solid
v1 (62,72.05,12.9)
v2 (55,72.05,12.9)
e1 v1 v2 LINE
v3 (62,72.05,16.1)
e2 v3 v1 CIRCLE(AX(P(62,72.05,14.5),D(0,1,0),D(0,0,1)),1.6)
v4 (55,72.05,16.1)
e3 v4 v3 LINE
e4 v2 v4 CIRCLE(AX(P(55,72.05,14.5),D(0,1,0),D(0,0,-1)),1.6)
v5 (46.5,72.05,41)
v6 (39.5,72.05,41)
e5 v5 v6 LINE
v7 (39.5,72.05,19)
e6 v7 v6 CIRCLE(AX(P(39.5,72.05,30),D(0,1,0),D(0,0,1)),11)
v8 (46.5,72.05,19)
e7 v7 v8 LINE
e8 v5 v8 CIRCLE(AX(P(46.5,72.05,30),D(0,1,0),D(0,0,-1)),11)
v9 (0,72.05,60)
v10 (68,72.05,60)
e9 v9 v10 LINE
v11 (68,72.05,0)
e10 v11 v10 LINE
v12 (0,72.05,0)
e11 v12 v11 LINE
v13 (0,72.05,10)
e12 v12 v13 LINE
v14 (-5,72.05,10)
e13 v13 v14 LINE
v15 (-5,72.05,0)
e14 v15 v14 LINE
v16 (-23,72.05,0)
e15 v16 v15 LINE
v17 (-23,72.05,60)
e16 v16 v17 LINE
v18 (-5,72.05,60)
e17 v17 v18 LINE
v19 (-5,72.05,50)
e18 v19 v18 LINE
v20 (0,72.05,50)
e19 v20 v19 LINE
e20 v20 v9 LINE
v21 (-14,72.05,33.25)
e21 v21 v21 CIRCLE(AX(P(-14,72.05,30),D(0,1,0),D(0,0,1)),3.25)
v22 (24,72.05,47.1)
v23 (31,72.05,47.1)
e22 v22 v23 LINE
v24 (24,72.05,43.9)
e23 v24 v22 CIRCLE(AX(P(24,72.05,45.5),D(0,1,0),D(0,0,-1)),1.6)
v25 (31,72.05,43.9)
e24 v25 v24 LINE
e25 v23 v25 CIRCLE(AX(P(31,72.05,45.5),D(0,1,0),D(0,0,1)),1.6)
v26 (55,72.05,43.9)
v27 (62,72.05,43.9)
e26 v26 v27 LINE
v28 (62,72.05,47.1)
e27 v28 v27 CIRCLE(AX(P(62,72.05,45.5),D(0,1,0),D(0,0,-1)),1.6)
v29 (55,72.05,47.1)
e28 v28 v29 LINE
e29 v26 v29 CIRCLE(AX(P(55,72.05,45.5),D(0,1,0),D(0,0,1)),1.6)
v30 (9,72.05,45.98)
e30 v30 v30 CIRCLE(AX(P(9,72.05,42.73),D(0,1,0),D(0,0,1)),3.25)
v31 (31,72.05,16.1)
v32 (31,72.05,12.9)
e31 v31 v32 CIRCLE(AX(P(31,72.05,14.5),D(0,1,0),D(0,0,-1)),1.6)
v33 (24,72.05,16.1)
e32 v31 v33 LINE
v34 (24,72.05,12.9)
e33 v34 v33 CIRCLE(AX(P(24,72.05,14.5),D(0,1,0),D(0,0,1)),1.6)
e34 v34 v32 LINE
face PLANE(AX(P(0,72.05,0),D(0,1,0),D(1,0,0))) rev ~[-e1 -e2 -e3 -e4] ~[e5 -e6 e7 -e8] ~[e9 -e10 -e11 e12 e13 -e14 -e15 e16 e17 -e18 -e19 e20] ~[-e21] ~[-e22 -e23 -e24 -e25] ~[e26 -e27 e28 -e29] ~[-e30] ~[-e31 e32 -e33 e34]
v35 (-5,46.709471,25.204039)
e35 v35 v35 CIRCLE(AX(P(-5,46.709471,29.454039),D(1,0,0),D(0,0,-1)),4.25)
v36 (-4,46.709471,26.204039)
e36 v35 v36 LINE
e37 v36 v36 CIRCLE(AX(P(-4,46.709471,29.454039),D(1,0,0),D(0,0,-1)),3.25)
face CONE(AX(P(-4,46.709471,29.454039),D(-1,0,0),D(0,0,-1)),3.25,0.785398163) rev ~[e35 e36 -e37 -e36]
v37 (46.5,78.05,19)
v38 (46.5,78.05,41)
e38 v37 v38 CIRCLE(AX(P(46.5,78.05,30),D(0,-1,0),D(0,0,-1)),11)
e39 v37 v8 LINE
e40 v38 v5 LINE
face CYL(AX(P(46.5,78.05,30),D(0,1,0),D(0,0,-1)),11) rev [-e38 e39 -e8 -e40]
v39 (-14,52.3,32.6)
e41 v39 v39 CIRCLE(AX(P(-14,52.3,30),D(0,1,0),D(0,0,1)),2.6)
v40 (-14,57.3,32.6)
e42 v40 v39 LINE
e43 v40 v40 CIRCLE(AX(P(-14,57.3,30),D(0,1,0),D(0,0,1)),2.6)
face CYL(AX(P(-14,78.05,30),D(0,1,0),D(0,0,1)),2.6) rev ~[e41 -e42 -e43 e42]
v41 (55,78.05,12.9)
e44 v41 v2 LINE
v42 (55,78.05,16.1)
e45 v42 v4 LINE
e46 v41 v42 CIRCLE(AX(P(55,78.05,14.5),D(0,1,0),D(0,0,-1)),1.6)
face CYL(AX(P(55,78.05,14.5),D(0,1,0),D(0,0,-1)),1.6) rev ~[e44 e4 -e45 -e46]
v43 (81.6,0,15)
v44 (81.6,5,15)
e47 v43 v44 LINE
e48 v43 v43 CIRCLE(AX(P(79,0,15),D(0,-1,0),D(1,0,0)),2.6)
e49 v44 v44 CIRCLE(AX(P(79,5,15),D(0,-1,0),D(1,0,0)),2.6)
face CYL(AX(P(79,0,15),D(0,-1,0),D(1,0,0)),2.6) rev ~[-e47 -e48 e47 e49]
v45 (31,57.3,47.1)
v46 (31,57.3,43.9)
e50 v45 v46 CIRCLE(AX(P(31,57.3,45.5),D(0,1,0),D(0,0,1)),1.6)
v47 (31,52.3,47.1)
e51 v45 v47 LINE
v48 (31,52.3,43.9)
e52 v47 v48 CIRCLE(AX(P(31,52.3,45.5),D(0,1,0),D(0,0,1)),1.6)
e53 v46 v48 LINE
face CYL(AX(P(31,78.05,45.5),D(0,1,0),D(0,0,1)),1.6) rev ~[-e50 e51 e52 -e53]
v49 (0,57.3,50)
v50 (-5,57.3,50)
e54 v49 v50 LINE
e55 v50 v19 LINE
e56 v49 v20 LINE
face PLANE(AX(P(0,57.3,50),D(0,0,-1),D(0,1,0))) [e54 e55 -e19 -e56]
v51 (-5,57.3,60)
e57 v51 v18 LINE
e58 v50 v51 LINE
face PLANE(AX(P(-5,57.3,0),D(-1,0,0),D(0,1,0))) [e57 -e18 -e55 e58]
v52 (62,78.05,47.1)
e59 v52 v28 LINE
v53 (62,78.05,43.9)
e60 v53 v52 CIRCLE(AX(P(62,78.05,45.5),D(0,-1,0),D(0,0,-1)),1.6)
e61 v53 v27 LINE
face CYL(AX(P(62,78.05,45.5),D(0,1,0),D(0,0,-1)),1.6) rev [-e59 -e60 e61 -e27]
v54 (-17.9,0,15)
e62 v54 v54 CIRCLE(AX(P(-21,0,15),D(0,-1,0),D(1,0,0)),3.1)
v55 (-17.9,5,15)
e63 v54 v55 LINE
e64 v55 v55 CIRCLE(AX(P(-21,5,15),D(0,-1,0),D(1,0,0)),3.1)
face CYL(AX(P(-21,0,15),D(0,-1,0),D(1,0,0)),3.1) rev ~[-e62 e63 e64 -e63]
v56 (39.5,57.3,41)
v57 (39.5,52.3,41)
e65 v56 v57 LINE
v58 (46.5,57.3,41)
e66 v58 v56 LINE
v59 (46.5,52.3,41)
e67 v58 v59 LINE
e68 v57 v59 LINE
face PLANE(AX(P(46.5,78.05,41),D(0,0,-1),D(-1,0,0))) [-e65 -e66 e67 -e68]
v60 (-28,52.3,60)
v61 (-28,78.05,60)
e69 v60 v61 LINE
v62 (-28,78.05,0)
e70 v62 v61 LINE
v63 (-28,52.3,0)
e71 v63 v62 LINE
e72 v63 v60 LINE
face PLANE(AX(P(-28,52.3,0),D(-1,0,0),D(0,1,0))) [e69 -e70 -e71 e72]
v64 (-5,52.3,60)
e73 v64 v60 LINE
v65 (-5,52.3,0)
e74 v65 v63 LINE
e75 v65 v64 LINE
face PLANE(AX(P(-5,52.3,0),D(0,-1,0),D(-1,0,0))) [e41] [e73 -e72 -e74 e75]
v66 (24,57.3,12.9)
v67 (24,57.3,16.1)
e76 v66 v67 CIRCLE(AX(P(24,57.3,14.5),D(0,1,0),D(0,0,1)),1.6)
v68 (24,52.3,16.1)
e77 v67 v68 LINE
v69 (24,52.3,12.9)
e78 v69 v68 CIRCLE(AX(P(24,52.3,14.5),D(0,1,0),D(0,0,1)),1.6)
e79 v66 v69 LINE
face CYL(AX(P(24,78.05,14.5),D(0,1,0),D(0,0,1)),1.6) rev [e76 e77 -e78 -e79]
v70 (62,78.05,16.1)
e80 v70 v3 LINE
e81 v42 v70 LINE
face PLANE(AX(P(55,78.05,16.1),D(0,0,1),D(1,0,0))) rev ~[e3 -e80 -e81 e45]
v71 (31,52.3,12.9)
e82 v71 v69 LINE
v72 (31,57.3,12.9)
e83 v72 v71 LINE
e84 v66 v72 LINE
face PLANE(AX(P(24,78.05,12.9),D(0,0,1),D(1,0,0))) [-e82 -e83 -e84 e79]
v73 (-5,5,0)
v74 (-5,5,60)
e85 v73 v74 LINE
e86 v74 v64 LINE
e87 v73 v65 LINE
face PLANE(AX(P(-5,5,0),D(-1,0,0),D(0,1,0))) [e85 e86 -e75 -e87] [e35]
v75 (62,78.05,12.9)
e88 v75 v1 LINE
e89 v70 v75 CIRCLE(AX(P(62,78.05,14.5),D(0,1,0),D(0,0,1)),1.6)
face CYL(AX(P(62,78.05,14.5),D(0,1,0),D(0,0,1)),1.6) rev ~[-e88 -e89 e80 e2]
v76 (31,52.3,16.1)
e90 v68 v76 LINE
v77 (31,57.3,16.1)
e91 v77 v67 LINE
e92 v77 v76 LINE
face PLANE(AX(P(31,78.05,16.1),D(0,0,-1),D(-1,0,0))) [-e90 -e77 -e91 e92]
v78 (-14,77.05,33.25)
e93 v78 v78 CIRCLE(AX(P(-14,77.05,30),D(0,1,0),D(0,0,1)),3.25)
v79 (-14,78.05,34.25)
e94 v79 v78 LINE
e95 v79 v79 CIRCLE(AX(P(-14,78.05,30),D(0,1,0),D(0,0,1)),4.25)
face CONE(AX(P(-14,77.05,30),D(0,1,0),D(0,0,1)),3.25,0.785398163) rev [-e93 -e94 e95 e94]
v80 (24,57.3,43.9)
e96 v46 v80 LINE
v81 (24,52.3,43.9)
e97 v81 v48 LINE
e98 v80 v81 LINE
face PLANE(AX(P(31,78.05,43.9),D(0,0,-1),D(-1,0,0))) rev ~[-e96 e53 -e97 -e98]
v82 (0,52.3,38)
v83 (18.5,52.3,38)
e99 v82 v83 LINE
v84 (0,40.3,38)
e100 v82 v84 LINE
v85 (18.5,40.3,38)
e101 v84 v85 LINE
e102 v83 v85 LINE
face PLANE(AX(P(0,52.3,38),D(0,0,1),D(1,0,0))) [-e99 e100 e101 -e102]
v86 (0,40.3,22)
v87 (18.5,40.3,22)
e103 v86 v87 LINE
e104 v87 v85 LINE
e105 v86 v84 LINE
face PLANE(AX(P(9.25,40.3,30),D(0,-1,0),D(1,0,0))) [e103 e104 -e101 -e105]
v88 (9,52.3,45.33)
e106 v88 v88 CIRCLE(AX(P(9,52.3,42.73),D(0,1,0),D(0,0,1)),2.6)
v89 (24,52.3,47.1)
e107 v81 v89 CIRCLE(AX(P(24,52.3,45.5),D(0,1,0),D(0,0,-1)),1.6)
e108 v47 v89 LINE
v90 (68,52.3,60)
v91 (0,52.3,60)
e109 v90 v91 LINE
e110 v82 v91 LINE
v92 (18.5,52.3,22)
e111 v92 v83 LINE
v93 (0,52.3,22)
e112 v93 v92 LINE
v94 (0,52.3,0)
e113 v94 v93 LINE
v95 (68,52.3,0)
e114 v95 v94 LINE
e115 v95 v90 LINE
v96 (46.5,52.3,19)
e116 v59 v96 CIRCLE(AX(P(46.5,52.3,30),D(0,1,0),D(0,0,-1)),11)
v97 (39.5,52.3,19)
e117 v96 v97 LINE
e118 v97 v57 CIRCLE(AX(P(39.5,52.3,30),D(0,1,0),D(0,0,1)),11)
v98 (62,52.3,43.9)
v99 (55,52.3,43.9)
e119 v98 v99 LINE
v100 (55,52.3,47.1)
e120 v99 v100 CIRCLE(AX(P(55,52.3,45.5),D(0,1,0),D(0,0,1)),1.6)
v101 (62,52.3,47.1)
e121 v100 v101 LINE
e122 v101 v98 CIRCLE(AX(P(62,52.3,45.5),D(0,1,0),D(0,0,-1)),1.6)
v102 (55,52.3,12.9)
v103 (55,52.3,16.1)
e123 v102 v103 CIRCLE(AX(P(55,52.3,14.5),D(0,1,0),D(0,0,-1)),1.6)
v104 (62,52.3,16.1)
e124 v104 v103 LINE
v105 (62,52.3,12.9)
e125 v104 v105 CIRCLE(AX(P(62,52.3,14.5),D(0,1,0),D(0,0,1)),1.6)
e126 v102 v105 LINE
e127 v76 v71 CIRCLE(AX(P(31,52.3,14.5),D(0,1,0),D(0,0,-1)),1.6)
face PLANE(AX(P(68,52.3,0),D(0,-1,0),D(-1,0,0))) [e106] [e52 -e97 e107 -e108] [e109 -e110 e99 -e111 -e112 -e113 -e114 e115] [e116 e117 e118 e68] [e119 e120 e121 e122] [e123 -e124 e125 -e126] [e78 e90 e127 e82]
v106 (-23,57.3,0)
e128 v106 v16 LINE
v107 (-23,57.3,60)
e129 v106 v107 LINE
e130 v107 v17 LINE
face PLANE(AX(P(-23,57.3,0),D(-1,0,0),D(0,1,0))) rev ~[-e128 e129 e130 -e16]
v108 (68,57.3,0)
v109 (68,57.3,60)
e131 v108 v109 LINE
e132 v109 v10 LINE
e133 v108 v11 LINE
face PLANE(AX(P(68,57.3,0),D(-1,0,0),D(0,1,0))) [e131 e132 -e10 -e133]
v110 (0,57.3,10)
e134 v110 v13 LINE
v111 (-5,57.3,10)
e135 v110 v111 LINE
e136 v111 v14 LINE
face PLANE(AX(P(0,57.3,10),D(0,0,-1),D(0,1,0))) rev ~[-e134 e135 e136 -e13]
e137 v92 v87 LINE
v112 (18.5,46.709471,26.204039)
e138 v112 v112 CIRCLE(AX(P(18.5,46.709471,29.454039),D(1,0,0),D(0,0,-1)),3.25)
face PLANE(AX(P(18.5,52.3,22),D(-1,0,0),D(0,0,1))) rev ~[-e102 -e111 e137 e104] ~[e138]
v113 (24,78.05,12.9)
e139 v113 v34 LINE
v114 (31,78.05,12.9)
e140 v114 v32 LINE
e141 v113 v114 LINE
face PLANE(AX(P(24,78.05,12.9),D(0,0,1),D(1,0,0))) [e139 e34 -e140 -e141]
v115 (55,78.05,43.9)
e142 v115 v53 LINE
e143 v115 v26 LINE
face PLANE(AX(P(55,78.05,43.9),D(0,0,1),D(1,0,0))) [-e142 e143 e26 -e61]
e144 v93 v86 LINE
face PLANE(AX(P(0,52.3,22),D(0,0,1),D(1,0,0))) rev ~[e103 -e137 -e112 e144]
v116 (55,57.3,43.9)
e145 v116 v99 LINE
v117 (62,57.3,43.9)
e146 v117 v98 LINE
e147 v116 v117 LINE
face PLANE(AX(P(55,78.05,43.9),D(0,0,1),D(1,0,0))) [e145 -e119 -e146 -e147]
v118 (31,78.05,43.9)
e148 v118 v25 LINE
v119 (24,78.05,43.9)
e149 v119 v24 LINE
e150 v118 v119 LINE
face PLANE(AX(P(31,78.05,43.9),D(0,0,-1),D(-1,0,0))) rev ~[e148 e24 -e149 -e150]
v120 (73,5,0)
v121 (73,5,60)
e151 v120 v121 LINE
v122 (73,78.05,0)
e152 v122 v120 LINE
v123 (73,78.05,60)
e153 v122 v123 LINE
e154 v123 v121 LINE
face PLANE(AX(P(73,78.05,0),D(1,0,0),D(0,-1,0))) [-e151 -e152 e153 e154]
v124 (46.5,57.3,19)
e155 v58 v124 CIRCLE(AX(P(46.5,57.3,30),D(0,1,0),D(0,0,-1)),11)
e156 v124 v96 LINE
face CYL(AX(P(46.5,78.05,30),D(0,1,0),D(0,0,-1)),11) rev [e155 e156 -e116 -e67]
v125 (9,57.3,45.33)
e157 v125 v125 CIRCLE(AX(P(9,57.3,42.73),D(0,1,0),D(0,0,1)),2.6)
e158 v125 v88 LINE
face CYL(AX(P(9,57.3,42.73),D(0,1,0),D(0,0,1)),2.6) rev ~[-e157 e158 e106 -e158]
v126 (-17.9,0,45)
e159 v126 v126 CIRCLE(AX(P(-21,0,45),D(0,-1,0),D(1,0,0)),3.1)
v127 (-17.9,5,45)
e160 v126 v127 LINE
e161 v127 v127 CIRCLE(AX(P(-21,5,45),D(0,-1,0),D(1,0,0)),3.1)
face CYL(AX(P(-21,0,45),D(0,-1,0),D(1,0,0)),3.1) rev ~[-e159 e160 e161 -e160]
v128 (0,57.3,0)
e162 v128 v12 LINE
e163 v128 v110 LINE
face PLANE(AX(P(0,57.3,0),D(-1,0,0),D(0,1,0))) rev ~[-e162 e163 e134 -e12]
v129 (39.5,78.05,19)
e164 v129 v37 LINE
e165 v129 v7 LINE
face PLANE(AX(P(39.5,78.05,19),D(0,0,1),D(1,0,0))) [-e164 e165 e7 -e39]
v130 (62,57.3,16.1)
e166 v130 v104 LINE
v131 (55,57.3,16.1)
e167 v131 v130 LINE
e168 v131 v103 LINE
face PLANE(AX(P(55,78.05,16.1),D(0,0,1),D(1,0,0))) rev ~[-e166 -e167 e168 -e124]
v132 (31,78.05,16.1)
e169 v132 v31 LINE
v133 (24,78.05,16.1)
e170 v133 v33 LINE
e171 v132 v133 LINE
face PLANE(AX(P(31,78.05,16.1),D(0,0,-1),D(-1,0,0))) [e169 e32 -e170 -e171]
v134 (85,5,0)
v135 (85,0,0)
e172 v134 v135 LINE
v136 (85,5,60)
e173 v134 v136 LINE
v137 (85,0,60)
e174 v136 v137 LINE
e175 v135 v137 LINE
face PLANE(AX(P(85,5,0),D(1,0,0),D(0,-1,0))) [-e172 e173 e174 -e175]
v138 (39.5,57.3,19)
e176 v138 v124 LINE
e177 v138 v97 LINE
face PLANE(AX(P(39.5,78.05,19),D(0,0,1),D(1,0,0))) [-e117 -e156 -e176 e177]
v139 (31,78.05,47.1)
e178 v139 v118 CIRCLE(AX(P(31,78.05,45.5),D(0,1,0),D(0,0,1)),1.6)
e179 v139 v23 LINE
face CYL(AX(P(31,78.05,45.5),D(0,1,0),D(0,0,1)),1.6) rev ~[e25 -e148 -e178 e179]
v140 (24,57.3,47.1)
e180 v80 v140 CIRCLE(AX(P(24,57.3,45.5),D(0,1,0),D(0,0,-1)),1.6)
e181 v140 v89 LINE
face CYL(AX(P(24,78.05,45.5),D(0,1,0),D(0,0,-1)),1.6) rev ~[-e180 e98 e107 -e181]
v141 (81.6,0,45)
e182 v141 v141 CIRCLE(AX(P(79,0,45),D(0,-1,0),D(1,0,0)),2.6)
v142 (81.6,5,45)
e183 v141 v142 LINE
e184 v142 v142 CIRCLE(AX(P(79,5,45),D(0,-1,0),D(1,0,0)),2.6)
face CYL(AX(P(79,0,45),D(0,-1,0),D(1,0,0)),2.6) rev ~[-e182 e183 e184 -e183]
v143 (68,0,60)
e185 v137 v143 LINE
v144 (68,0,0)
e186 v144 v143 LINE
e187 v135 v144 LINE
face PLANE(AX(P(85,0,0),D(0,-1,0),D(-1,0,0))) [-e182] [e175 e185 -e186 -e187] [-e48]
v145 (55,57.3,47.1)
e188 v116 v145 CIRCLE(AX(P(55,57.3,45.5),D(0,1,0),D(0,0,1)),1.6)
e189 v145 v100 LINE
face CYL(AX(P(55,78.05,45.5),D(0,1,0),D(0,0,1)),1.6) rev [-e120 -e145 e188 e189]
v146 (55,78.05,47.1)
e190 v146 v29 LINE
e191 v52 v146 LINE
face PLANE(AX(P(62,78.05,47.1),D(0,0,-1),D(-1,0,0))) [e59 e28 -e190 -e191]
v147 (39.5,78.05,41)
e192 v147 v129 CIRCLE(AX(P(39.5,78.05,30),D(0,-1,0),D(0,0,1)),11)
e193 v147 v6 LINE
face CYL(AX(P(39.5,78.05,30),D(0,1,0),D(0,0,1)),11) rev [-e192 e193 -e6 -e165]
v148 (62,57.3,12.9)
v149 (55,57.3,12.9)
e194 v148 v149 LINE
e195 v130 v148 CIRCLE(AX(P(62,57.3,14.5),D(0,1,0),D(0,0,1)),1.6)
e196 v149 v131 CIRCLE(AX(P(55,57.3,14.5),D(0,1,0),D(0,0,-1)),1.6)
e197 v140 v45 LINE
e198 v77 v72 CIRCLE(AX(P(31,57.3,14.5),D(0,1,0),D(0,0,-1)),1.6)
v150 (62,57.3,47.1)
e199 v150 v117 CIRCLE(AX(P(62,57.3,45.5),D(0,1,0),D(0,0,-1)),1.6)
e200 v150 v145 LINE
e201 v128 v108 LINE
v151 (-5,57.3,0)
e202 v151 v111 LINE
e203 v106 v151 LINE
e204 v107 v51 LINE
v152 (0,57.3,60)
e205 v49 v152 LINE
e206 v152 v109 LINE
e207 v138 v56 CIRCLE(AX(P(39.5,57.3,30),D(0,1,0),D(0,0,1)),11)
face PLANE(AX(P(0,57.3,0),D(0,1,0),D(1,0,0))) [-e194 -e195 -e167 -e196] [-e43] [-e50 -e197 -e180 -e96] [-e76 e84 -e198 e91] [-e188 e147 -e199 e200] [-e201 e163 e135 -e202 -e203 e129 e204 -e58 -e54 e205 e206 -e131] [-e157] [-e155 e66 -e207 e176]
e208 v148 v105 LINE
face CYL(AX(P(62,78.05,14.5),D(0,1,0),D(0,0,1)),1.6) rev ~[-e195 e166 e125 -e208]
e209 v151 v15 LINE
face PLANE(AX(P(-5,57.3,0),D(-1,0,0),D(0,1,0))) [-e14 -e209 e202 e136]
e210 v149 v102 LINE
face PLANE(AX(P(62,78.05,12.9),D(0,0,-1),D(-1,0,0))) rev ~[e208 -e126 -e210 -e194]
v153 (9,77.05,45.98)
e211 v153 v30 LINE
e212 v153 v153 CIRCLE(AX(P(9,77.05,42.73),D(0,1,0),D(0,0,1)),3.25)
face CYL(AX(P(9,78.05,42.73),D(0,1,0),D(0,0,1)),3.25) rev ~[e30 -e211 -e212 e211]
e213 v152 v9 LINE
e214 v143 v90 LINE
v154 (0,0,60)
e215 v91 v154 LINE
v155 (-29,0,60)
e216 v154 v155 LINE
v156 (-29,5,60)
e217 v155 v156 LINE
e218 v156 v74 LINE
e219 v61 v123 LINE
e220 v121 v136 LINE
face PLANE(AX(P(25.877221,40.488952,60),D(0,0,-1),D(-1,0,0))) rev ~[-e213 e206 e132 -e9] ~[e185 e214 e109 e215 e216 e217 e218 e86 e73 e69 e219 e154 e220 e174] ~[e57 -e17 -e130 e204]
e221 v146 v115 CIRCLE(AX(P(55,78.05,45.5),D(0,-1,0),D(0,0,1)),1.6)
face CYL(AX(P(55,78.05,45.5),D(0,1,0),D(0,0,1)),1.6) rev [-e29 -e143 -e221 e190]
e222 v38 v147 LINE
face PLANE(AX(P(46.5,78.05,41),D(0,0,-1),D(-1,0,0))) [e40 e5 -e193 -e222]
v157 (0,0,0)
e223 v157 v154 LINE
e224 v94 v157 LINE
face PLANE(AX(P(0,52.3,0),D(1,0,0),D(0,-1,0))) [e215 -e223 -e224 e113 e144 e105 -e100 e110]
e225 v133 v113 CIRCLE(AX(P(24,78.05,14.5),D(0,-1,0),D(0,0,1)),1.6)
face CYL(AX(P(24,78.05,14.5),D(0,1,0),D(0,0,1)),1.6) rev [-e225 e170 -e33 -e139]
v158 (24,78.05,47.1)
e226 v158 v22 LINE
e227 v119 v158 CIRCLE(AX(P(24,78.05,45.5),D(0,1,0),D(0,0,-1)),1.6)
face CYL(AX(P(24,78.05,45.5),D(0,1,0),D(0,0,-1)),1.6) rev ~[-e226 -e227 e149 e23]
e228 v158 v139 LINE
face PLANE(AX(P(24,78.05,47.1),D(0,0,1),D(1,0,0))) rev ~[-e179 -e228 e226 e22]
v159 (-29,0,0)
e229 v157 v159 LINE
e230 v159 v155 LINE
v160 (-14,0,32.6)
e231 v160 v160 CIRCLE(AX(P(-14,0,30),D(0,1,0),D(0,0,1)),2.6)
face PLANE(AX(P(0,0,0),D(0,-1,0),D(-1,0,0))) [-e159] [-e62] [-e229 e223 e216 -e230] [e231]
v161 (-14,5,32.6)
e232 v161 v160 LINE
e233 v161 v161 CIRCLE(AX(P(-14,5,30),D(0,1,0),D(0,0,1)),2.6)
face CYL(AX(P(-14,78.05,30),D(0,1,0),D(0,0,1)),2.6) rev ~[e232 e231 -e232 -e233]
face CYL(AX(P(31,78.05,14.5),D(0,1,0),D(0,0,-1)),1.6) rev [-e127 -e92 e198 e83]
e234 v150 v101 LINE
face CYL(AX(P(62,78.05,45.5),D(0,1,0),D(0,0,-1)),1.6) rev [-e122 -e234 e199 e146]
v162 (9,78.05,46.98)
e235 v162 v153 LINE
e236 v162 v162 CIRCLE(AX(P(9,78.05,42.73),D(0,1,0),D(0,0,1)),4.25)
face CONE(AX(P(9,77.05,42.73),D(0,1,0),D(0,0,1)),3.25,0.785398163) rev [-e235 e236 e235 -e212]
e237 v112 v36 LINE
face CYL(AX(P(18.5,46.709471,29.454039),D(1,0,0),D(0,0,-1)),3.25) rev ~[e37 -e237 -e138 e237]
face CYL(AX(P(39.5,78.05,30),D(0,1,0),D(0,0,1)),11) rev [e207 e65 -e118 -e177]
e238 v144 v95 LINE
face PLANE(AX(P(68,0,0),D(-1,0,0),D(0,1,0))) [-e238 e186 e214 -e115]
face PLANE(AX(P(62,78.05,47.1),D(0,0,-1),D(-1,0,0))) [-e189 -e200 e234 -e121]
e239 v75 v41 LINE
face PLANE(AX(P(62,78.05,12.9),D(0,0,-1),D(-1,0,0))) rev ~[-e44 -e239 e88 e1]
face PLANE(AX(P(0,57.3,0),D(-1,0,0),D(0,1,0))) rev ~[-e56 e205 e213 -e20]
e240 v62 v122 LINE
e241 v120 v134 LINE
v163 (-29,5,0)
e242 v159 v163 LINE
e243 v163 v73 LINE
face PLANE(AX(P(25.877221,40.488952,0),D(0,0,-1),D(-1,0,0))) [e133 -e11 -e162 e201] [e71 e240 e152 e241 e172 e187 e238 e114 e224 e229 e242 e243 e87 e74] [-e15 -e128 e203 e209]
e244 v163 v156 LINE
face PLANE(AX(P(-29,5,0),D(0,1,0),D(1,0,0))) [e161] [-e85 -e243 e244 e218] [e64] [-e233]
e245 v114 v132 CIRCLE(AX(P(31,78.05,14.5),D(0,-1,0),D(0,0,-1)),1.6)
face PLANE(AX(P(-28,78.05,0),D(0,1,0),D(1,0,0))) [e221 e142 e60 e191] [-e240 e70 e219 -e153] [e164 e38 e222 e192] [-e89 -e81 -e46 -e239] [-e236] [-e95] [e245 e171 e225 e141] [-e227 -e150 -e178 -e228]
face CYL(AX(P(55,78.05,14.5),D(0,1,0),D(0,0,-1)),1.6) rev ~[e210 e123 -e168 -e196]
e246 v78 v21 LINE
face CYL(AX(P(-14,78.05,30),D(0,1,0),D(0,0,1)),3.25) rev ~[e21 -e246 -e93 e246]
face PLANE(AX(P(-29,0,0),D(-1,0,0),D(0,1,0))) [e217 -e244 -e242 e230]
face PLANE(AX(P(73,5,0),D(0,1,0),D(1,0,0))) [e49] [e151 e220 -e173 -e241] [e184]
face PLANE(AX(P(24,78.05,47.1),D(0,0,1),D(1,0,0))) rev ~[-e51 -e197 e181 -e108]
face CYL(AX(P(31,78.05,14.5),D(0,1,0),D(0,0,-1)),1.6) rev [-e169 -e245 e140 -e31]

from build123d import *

# Parameters (mm, degrees)
SKETCH1_W           = 68
SKETCH1_H           = 14.75
SKETCH1_W_2         = 18
BOSS_EXTRUDE1_DEPTH = 60
CUT_EXTRUDE1_REACH  = 132.065
SKETCH2_W           = 40
SKETCH2_H           = 14.75
CUT_EXTRUDE2_DEPTH  = 131.064608945
CUT_EXTRUDE3_REACH  = 132.065
SKETCH5_R           = 3.25
CUT_EXTRUDE4_REACH  = 120.778
SKETCH6_R           = 2.6
SKETCH7_R           = 2.6
CUT_EXTRUDE5_DEPTH  = 131.064608945
CUT_EXTRUDE6_REACH  = 132.065
SKETCH8_R           = 3.25
CHAMFER1_SIZE       = 1
CUT_EXTRUDE8_REACH  = 132.065
SKETCH10_R          = 3.1
SKETCH10_R_2        = 2.6
SKETCH11_W          = 18.5
SKETCH11_H          = 16
BOSS_EXTRUDE2_DEPTH = 12
SKETCH12_R          = 3.25
CUT_EXTRUDE9_DEPTH  = 119.802577834
CHAMFER2_SIZE       = 1


with BuildPart() as part:
    # Sketch1 → Boss-Extrude1 (new body)
    with BuildSketch(Plane.XY):
        Polygon((0, 0), (-29, 0), (-29, 5), (-5, 5), (-5, 52.3), (-28, 52.3), (-28, 78.05), (73, 78.05), (73, 5), (85, 5), (85, 0), (68, 0), (68, 52.3), (0, 52.3), align=None)
        with Locations((34, 64.675)):
            Rectangle(SKETCH1_W, SKETCH1_H, mode=Mode.SUBTRACT)
        with Locations((-14, 64.675)):
            Rectangle(SKETCH1_W_2, SKETCH1_H, mode=Mode.SUBTRACT)
    extrude(amount=BOSS_EXTRUDE1_DEPTH)

    # Sketch2 → Cut-Extrude1 (cut, up to next)
    with BuildSketch(Plane(origin=(0, 0, 0), x_dir=(0, 0, -1), z_dir=(1, 0, 0)), mode=Mode.PRIVATE) as cut_extrude1_sk1:
        with Locations((-30, 64.675)):
            Rectangle(SKETCH2_W, SKETCH2_H)
    cut_extrude1_tool1 = extrude(cut_extrude1_sk1.sketch, amount=-CUT_EXTRUDE1_REACH, mode=Mode.PRIVATE) & part.part
    add(cut_extrude1_tool1.solids().sort_by_distance((0, 64.675, 30))[0], mode=Mode.SUBTRACT)

    # Sketch3 → Cut-Extrude2 (cut, through all)
    with BuildSketch(Plane(origin=(0, 78.05, 0), x_dir=(1, 0, 0), z_dir=(0, 1, 0))):
        with BuildLine():
            Line((39.5, -19), (46.5, -19))
            ThreePointArc((46.5, -19), (57.5, -30), (46.5, -41))
            Line((46.5, -41), (39.5, -41))
            ThreePointArc((39.5, -41), (28.5, -30), (39.5, -19))
        make_face()
        with BuildLine():
            Line((31, -16.1), (24, -16.1))
            ThreePointArc((24, -16.1), (22.4, -14.5), (24, -12.9))
            Line((24, -12.9), (31, -12.9))
            ThreePointArc((31, -12.9), (32.6, -14.5), (31, -16.1))
        make_face()
        with BuildLine():
            Line((55, -16.1), (62, -16.1))
            ThreePointArc((62, -16.1), (63.6, -14.5), (62, -12.9))
            Line((62, -12.9), (55, -12.9))
            ThreePointArc((55, -12.9), (53.4, -14.5), (55, -16.1))
        make_face()
        with BuildLine():
            Line((31, -43.9), (24, -43.9))
            ThreePointArc((24, -43.9), (22.4, -45.5), (24, -47.1))
            Line((24, -47.1), (31, -47.1))
            ThreePointArc((31, -47.1), (32.6, -45.5), (31, -43.9))
        make_face()
        with BuildLine():
            Line((55, -43.9), (62, -43.9))
            ThreePointArc((62, -43.9), (63.6, -45.5), (62, -47.1))
            Line((62, -47.1), (55, -47.1))
            ThreePointArc((55, -47.1), (53.4, -45.5), (55, -43.9))
        make_face()
    extrude(amount=-CUT_EXTRUDE2_DEPTH, mode=Mode.SUBTRACT)

    # Sketch5 → Cut-Extrude3 (cut, up to next)
    with BuildSketch(Plane(origin=(0, 78.05, 0), x_dir=(1, 0, 0), z_dir=(0, 1, 0)), mode=Mode.PRIVATE) as cut_extrude3_sk1:
        with Locations(Location((9, -42.73, 0), (0, 0, 270))):
            Circle(SKETCH5_R)
    cut_extrude3_tool1 = extrude(cut_extrude3_sk1.sketch, amount=-CUT_EXTRUDE3_REACH, mode=Mode.PRIVATE) & part.part
    add(cut_extrude3_tool1.solids().sort_by_distance((9, 78.05, 42.73))[0], mode=Mode.SUBTRACT)

    # Sketch6 → Cut-Extrude4 (cut, up to next)
    with BuildSketch(Plane(origin=(0, 57.3, 0), x_dir=(1, 0, 0), z_dir=(0, 1, 0)), mode=Mode.PRIVATE) as cut_extrude4_sk1:
        with Locations(Location((9, -42.73, 0), (0, 0, 270))):
            Circle(SKETCH6_R)
    cut_extrude4_tool1 = extrude(cut_extrude4_sk1.sketch, amount=-CUT_EXTRUDE4_REACH, mode=Mode.PRIVATE) & part.part
    add(cut_extrude4_tool1.solids().sort_by_distance((9, 57.3, 42.73))[0], mode=Mode.SUBTRACT)

    # Sketch7 → Cut-Extrude5 (cut, through all)
    with BuildSketch(Plane(origin=(0, 78.05, 0), x_dir=(1, 0, 0), z_dir=(0, 1, 0))):
        with Locations(Location((-14, -30, 0), (0, 0, 270))):
            Circle(SKETCH7_R)
    extrude(amount=-CUT_EXTRUDE5_DEPTH, mode=Mode.SUBTRACT)

    # Sketch8 → Cut-Extrude6 (cut, up to next)
    with BuildSketch(Plane(origin=(0, 78.05, 0), x_dir=(1, 0, 0), z_dir=(0, 1, 0)), mode=Mode.PRIVATE) as cut_extrude6_sk1:
        with Locations(Location((-14, -30, 0), (0, 0, 270))):
            Circle(SKETCH8_R)
    cut_extrude6_tool1 = extrude(cut_extrude6_sk1.sketch, amount=-CUT_EXTRUDE6_REACH, mode=Mode.PRIVATE) & part.part
    add(cut_extrude6_tool1.solids().sort_by_distance((-14, 78.05, 30))[0], mode=Mode.SUBTRACT)

    # Chamfer1
    chamfer1_edges = [part.edges().sort_by_distance(p)[0] for p in [
        (9, 78.05, 39.48),
        (-14, 78.05, 26.75),
    ]]
    chamfer(chamfer1_edges, length=CHAMFER1_SIZE)

    # Sketch10 → Cut-Extrude8 (cut, up to next)
    with BuildSketch(Plane.XZ, mode=Mode.PRIVATE) as cut_extrude8_sk1:
        with Locations((-21, 45)):
            Circle(SKETCH10_R)
    cut_extrude8_tool1 = extrude(cut_extrude8_sk1.sketch, amount=-CUT_EXTRUDE8_REACH, mode=Mode.PRIVATE) & part.part
    # Sketch10 → Cut-Extrude8 (cut, up to next)
    with BuildSketch(Plane.XZ, mode=Mode.PRIVATE) as cut_extrude8_sk2:
        with Locations((-21, 15)):
            Circle(SKETCH10_R)
    cut_extrude8_tool2 = extrude(cut_extrude8_sk2.sketch, amount=-CUT_EXTRUDE8_REACH, mode=Mode.PRIVATE) & part.part
    # Sketch10 → Cut-Extrude8 (cut, up to next)
    with BuildSketch(Plane.XZ, mode=Mode.PRIVATE) as cut_extrude8_sk3:
        with Locations((79, 15)):
            Circle(SKETCH10_R_2)
    cut_extrude8_tool3 = extrude(cut_extrude8_sk3.sketch, amount=-CUT_EXTRUDE8_REACH, mode=Mode.PRIVATE) & part.part
    # Sketch10 → Cut-Extrude8 (cut, up to next)
    with BuildSketch(Plane.XZ, mode=Mode.PRIVATE) as cut_extrude8_sk4:
        with Locations((79, 45)):
            Circle(SKETCH10_R_2)
    cut_extrude8_tool4 = extrude(cut_extrude8_sk4.sketch, amount=-CUT_EXTRUDE8_REACH, mode=Mode.PRIVATE) & part.part
    add(cut_extrude8_tool1.solids().sort_by_distance((-21, 0, 45))[0], mode=Mode.SUBTRACT)
    add(cut_extrude8_tool2.solids().sort_by_distance((-21, 0, 15))[0], mode=Mode.SUBTRACT)
    add(cut_extrude8_tool3.solids().sort_by_distance((79, 0, 15))[0], mode=Mode.SUBTRACT)
    add(cut_extrude8_tool4.solids().sort_by_distance((79, 0, 45))[0], mode=Mode.SUBTRACT)

    # Sketch11 → Boss-Extrude2 (add)
    with BuildSketch(Plane.XZ.offset(-52.3)):
        with Locations((9.25, 30)):
            Rectangle(SKETCH11_W, SKETCH11_H)
    extrude(amount=BOSS_EXTRUDE2_DEPTH)

    # Sketch12 → Cut-Extrude9 (cut, through all)
    with BuildSketch(Plane(origin=(18.5, 0, 0), x_dir=(0, 0, -1), z_dir=(1, 0, 0))):
        with Locations((-29.45403853, 46.709471103)):
            Circle(SKETCH12_R)
    extrude(amount=-CUT_EXTRUDE9_DEPTH, mode=Mode.SUBTRACT)

    # Chamfer2
    chamfer2_edges = [part.edges().sort_by_distance(p)[0] for p in [
        (-5, 46.709471103, 32.70403853),
    ]]
    chamfer(chamfer2_edges, length=CHAMFER2_SIZE)


solid = part.part
